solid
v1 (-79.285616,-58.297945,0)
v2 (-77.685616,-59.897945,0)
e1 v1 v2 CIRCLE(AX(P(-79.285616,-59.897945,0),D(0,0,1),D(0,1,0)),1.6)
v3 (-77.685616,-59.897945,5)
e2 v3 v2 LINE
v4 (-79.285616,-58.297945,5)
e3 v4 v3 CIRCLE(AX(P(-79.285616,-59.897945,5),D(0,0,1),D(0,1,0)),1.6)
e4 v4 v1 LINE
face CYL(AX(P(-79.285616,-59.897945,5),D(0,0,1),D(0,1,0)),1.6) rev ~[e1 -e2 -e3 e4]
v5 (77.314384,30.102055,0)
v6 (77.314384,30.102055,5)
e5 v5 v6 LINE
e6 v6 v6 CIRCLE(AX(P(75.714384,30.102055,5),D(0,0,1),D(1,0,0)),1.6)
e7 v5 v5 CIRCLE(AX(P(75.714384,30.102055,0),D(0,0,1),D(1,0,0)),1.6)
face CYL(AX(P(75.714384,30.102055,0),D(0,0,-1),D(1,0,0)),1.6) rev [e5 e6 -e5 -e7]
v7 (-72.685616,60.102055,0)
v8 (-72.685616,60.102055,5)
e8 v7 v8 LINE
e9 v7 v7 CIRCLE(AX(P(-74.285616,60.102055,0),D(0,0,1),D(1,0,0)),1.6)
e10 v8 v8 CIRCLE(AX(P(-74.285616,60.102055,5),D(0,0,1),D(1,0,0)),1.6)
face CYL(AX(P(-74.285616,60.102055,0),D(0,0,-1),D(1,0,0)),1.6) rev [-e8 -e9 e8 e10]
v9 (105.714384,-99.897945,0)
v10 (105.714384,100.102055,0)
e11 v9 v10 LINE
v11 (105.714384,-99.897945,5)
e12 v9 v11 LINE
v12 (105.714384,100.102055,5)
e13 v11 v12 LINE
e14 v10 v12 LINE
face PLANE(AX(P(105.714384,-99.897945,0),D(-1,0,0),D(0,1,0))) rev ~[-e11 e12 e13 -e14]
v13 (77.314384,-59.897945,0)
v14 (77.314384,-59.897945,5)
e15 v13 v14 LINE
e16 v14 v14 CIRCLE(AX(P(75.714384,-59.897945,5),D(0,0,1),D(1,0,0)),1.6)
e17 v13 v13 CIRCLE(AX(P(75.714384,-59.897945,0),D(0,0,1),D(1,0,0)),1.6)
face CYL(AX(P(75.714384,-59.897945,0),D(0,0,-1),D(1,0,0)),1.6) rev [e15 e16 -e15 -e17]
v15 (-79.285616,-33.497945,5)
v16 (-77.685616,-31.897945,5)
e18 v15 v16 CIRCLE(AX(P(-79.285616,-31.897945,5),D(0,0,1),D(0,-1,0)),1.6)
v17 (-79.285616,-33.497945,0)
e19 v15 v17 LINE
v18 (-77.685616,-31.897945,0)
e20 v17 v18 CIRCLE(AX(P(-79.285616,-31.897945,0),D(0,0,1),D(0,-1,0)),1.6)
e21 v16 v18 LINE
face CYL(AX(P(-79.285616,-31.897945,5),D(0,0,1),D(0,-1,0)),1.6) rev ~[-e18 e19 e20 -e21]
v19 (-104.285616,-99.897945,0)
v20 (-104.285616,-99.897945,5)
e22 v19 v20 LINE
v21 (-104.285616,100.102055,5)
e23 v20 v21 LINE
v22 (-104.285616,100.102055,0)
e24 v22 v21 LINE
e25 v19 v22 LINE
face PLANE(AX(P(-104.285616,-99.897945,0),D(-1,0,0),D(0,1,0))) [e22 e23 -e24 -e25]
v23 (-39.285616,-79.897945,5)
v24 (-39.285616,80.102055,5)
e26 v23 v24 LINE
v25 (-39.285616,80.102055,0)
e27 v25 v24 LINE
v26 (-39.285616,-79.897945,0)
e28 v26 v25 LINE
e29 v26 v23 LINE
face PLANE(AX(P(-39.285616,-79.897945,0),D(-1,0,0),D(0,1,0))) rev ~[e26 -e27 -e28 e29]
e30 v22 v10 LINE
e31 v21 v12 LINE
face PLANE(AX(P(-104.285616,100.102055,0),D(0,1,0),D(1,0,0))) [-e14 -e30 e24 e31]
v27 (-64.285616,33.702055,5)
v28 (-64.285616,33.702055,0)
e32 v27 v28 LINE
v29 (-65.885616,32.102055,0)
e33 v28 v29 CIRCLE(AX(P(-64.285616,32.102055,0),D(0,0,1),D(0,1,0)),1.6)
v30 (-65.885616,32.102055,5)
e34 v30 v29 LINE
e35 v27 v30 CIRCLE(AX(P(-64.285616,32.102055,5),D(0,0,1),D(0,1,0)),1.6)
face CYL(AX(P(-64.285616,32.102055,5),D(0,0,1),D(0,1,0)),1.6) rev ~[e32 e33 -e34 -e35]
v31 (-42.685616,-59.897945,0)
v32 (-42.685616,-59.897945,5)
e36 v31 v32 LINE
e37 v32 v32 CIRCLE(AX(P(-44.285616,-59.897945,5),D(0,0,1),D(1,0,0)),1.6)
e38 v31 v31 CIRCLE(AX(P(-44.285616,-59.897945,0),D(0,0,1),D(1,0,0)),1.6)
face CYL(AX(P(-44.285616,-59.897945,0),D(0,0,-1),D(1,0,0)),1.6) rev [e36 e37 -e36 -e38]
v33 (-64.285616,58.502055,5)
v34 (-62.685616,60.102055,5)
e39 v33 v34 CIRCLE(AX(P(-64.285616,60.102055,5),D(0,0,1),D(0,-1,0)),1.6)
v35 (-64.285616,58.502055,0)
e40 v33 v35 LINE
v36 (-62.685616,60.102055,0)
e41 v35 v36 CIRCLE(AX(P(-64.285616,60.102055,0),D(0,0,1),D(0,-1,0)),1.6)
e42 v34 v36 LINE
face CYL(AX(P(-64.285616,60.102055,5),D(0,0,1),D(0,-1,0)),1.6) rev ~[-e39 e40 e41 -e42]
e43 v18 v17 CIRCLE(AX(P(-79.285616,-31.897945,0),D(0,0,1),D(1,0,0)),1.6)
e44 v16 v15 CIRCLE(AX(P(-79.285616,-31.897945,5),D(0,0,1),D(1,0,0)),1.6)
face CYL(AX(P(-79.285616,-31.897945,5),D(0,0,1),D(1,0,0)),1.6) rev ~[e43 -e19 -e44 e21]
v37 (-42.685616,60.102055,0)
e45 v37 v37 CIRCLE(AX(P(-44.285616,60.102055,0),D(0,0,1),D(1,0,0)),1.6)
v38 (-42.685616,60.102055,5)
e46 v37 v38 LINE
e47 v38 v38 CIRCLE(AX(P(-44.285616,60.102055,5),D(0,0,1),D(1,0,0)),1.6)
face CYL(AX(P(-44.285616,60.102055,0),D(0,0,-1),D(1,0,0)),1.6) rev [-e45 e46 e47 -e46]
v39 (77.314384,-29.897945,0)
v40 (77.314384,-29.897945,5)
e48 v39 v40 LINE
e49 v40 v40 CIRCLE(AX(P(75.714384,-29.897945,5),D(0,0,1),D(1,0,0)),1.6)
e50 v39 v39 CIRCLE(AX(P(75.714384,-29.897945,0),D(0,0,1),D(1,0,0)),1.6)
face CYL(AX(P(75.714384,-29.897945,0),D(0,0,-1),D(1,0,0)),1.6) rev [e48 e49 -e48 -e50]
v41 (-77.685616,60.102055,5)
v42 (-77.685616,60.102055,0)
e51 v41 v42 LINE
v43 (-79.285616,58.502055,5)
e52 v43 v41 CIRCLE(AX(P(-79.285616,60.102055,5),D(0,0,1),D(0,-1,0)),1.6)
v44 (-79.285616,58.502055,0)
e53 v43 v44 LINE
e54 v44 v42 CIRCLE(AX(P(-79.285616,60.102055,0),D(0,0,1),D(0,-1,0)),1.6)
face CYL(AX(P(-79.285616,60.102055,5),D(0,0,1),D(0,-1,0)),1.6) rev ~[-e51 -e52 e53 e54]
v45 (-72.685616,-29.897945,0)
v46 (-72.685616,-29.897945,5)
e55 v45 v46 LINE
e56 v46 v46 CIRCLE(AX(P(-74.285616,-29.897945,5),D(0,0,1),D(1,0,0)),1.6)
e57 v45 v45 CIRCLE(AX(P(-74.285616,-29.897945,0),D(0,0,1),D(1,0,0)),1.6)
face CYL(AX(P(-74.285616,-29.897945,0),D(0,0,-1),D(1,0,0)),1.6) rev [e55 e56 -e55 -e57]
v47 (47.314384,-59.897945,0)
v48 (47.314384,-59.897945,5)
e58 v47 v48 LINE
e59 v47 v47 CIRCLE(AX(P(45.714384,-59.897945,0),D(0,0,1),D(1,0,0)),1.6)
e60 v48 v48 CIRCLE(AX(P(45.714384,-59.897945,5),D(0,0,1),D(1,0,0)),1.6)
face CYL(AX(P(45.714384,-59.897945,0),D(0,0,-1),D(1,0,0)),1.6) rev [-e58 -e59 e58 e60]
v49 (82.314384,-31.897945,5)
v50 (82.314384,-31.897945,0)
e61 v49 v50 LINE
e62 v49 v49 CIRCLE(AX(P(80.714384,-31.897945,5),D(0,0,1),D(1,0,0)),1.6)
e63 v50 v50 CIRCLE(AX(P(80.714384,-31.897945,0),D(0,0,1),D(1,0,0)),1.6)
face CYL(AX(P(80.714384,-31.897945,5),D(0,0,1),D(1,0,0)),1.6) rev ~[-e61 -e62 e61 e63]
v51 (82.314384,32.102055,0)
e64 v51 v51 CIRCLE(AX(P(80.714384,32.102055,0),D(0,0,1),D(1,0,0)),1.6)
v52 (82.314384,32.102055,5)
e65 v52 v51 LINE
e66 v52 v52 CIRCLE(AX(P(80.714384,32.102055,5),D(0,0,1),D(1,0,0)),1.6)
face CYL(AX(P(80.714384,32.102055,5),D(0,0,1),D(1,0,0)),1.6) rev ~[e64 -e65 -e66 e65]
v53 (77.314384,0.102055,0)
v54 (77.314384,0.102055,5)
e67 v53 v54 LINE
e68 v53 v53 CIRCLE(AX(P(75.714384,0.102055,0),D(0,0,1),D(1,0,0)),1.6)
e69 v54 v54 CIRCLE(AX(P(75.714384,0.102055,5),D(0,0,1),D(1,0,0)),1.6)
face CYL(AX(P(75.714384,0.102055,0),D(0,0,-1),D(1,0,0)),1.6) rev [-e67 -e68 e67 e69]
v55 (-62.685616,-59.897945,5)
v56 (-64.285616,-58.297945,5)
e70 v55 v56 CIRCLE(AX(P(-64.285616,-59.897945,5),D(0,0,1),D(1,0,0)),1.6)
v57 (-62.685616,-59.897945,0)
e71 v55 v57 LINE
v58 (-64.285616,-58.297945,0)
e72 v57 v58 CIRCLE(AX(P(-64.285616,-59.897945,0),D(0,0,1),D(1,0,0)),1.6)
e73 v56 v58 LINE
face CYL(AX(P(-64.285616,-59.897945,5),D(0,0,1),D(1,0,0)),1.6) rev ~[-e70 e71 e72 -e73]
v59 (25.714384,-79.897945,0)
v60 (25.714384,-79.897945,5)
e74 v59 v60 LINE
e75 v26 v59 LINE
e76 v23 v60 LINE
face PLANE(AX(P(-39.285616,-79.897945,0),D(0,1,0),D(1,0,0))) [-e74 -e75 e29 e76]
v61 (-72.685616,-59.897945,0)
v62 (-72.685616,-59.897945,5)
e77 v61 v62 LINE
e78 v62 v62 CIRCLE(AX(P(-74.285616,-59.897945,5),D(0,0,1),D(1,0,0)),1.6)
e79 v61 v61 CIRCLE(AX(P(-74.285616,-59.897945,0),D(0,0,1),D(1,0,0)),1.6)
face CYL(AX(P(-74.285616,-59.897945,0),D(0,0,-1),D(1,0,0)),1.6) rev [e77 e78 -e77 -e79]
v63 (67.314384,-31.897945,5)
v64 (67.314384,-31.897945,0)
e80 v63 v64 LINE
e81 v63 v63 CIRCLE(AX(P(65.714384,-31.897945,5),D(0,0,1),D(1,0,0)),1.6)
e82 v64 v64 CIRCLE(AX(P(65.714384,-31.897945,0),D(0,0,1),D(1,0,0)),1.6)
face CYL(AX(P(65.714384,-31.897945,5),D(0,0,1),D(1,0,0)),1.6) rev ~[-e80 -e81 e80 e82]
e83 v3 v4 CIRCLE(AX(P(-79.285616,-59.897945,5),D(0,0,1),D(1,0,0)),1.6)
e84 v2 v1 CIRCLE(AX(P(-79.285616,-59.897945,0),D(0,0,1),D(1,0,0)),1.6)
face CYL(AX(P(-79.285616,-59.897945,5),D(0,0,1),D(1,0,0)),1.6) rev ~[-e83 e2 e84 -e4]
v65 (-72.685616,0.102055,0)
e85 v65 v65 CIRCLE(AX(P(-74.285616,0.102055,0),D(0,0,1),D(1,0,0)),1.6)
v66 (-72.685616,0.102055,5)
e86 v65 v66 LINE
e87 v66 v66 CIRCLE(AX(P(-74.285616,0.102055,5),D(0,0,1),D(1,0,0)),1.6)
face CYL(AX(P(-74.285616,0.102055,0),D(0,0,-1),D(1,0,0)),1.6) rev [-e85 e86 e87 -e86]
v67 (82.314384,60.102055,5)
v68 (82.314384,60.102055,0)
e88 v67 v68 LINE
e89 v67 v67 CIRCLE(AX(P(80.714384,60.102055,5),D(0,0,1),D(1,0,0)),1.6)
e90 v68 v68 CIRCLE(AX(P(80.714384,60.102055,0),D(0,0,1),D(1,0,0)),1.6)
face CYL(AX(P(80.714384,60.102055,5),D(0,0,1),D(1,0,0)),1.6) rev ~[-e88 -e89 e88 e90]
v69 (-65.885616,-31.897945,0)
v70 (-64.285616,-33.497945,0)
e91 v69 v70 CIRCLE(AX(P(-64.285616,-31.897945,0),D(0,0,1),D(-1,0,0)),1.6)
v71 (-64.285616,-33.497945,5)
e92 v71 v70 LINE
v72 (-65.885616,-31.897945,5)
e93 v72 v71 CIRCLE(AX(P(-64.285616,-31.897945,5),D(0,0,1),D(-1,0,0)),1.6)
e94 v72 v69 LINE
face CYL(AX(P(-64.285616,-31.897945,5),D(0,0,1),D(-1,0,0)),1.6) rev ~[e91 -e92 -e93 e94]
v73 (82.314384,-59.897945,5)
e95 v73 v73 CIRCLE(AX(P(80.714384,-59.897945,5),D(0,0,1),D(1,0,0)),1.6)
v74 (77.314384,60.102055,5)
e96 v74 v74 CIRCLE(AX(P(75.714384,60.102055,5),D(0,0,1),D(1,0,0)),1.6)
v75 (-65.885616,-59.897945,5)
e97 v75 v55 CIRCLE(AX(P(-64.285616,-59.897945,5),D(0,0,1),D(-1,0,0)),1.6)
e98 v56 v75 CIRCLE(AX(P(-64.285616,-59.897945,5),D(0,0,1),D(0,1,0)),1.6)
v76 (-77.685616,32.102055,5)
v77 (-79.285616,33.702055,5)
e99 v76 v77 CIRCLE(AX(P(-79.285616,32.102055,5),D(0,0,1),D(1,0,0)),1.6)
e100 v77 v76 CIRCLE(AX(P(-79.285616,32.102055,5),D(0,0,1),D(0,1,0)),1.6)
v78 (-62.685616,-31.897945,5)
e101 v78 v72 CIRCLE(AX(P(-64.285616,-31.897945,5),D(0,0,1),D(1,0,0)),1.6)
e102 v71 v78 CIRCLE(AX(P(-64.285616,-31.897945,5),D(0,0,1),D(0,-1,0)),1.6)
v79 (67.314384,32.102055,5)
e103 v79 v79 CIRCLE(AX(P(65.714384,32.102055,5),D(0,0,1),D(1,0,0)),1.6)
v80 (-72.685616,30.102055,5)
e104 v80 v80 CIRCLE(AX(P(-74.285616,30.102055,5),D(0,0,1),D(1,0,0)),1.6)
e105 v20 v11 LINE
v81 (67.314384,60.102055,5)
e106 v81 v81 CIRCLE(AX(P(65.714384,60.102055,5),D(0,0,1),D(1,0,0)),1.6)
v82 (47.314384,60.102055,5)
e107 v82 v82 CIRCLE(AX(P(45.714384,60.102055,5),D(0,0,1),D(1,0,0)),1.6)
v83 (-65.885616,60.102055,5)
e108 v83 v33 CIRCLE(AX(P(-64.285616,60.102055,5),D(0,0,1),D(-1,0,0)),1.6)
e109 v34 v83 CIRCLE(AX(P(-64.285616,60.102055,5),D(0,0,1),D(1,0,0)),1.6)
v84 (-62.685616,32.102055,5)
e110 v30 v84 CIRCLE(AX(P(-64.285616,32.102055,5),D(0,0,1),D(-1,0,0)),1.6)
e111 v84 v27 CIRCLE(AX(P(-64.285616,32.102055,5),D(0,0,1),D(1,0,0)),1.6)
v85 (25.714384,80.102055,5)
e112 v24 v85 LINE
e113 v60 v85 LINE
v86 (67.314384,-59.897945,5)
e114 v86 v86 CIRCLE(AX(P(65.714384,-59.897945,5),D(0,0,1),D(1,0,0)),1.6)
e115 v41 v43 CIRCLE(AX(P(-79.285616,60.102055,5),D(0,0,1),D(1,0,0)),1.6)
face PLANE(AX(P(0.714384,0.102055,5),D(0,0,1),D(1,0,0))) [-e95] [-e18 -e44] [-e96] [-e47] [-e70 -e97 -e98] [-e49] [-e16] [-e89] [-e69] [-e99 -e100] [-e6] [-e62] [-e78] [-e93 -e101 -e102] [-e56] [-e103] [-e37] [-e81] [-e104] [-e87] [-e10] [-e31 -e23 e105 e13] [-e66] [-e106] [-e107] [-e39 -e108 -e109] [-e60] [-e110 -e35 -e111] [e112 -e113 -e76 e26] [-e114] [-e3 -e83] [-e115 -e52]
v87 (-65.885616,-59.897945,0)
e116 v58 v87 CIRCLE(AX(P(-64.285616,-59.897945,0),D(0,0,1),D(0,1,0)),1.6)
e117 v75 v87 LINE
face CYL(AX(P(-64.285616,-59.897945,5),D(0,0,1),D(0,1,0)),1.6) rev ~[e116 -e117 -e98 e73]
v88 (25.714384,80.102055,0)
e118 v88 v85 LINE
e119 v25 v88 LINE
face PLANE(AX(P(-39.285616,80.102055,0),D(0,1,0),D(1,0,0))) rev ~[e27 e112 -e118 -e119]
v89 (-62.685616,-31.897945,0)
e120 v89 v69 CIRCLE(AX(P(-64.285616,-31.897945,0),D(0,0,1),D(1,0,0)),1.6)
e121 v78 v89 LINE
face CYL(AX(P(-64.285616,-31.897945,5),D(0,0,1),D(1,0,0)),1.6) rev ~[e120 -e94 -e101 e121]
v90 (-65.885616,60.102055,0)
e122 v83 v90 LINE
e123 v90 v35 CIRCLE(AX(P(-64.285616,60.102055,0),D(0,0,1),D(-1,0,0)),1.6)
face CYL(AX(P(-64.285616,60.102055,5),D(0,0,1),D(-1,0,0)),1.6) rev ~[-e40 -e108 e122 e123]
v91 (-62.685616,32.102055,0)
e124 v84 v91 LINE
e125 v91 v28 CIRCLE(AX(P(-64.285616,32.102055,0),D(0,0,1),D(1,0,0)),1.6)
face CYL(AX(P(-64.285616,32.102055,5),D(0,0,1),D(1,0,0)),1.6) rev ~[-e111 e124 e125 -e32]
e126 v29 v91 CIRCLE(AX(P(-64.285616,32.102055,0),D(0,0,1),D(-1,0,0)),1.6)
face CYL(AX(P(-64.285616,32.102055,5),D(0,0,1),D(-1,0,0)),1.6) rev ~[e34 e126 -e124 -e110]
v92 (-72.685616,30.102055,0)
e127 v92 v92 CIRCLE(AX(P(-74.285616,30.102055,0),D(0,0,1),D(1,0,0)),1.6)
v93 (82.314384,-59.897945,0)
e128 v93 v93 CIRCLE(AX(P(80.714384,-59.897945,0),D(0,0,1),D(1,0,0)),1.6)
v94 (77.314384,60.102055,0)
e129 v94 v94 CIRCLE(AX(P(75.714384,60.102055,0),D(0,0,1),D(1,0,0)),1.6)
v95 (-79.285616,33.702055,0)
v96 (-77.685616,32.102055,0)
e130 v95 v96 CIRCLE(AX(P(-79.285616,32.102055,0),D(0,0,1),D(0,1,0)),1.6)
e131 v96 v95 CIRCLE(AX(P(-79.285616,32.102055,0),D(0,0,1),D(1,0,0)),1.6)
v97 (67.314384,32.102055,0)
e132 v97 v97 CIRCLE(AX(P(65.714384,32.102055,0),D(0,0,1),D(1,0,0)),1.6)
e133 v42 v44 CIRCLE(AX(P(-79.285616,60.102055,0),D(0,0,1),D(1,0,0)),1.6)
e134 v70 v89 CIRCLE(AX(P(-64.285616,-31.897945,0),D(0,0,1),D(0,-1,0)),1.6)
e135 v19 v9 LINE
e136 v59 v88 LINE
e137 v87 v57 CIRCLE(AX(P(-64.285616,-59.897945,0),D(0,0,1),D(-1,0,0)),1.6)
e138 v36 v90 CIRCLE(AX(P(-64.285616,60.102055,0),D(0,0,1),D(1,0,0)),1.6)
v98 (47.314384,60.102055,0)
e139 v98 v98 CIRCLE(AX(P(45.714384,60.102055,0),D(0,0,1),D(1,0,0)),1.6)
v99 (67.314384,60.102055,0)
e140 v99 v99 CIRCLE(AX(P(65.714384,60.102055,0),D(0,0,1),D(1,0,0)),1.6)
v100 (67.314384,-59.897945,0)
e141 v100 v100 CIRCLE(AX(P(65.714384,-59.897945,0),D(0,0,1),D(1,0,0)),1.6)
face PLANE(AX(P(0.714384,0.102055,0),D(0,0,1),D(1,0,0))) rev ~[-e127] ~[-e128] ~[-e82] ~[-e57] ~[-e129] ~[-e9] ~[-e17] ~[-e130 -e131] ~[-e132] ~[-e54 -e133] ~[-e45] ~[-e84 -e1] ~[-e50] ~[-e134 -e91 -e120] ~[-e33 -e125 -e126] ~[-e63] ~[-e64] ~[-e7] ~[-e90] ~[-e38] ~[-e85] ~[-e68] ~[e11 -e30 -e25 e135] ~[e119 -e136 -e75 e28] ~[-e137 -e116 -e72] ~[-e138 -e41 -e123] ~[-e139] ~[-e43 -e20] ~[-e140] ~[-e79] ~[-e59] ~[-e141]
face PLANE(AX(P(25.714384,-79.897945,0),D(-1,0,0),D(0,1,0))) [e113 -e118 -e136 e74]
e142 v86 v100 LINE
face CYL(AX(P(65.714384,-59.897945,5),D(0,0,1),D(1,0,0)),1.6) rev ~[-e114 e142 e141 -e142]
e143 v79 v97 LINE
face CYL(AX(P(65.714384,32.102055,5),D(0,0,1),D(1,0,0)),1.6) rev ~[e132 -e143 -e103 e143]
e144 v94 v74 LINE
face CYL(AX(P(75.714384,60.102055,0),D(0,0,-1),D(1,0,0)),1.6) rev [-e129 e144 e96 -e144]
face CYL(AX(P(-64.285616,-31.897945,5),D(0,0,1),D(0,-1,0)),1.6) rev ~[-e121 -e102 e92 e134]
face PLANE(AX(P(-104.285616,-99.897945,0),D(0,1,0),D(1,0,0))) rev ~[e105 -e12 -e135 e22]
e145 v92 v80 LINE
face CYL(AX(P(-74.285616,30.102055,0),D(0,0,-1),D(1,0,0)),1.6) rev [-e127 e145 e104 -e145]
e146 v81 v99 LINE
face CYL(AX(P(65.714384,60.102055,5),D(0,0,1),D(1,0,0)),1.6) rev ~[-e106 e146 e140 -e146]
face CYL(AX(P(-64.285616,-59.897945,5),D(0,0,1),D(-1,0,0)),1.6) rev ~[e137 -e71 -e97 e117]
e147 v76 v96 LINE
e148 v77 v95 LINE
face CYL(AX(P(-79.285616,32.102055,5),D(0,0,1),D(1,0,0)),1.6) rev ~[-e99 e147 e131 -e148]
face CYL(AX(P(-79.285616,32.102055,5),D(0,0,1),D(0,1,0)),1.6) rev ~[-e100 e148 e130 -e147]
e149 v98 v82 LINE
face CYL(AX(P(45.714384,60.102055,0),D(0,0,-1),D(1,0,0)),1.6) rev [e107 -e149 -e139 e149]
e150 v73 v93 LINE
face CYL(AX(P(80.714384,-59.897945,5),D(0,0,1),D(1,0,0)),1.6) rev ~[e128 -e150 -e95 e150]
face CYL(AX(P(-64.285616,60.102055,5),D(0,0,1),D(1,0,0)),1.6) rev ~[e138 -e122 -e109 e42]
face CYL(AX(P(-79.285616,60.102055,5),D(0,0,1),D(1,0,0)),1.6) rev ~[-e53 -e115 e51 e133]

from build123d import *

# Parameters (mm, degrees)
SKETCH_2_W          = 210
SKETCH_2_H          = 200
SKETCH_2_R          = 1.6
SKETCH_2_W_2        = 65
SKETCH_2_H_2        = 160
EXTRUDE_1_DEPTH     = 5
SKETCH_5_R          = 1.6
CUT_EXTRUDE_1_DEPTH = 146.674130949


with BuildPart() as part:
    # 草图2 → 凸台-拉伸1 (new body)
    with BuildSketch(Plane.XY):
        with Locations((0.714384236, 0.102054891)):
            Rectangle(SKETCH_2_W, SKETCH_2_H)
        with Locations((-74.285615764, -59.897945109)):
            Circle(SKETCH_2_R, mode=Mode.SUBTRACT)
        with Locations((75.714384236, 60.102054891)):
            Circle(SKETCH_2_R, mode=Mode.SUBTRACT)
        with Locations((-74.285615764, 30.102054891)):
            Circle(SKETCH_2_R, mode=Mode.SUBTRACT)
        with Locations((-74.285615764, 0.102054891)):
            Circle(SKETCH_2_R, mode=Mode.SUBTRACT)
        with Locations((-74.285615764, -29.897945109)):
            Circle(SKETCH_2_R, mode=Mode.SUBTRACT)
        with Locations((-44.285615764, -59.897945109)):
            Circle(SKETCH_2_R, mode=Mode.SUBTRACT)
        with Locations((-44.285615764, 60.102054891)):
            Circle(SKETCH_2_R, mode=Mode.SUBTRACT)
        with Locations((45.714384236, 60.102054891)):
            Circle(SKETCH_2_R, mode=Mode.SUBTRACT)
        with Locations((75.714384236, -29.897945109)):
            Circle(SKETCH_2_R, mode=Mode.SUBTRACT)
        with Locations((75.714384236, 0.102054891)):
            Circle(SKETCH_2_R, mode=Mode.SUBTRACT)
        with Locations((45.714384236, -59.897945109)):
            Circle(SKETCH_2_R, mode=Mode.SUBTRACT)
        with Locations((75.714384236, 30.102054891)):
            Circle(SKETCH_2_R, mode=Mode.SUBTRACT)
        with Locations((75.714384236, -59.897945109)):
            Circle(SKETCH_2_R, mode=Mode.SUBTRACT)
        with Locations((-74.285615764, 60.102054891)):
            Circle(SKETCH_2_R, mode=Mode.SUBTRACT)
        with Locations((-6.785615764, 0.102054891)):
            Rectangle(SKETCH_2_W_2, SKETCH_2_H_2, mode=Mode.SUBTRACT)
    extrude(amount=EXTRUDE_1_DEPTH)

    # 草图5 → 切除-拉伸1 (cut, through all)
    with BuildSketch(Plane.XY.offset(5)):
        with BuildLine():
            Line((-79.285615764, 58.502054891), (-79.285615764, 60.102054891))
            Line((-79.285615764, 60.102054891), (-77.685615764, 60.102054891))
            ThreePointArc((-77.685615764, 60.102054891), (-80.416986614, 61.233425741), (-79.285615764, 58.502054891))
        make_face()
        with BuildLine():
            Line((-77.685615764, 60.102054891), (-79.285615764, 60.102054891))
            Line((-79.285615764, 60.102054891), (-79.285615764, 58.502054891))
            ThreePointArc((-79.285615764, 58.502054891), (-78.154244914, 58.970684041), (-77.685615764, 60.102054891))
        make_face()
        with BuildLine():
            ThreePointArc((-62.685615764, 60.102054891), (-64.285615764, 61.702054891), (-65.885615764, 60.102054891))
            Line((-65.885615764, 60.102054891), (-64.285615764, 60.102054891))
            Line((-64.285615764, 60.102054891), (-64.285615764, 58.502054891))
            ThreePointArc((-64.285615764, 58.502054891), (-63.154244914, 58.970684041), (-62.685615764, 60.102054891))
        make_face()
        with BuildLine():
            Line((-64.285615764, 60.102054891), (-65.885615764, 60.102054891))
            ThreePointArc((-65.885615764, 60.102054891), (-65.416986614, 58.970684041), (-64.285615764, 58.502054891))
            Line((-64.285615764, 58.502054891), (-64.285615764, 60.102054891))
        make_face()
        with BuildLine():
            ThreePointArc((-77.685615764, 32.102054891), (-78.154244914, 33.233425741), (-79.285615764, 33.702054891))
            Line((-79.285615764, 33.702054891), (-79.285615764, 32.102054891))
            Line((-79.285615764, 32.102054891), (-77.685615764, 32.102054891))
        make_face()
        with BuildLine():
            Line((-79.285615764, 32.102054891), (-79.285615764, 33.702054891))
            ThreePointArc((-79.285615764, 33.702054891), (-80.416986614, 30.970684041), (-77.685615764, 32.102054891))
            Line((-77.685615764, 32.102054891), (-79.285615764, 32.102054891))
        make_face()
        with BuildLine():
            ThreePointArc((-62.685615764, 32.102054891), (-63.154244914, 33.233425741), (-64.285615764, 33.702054891))
            Line((-64.285615764, 33.702054891), (-64.285615764, 32.102054891))
            Line((-64.285615764, 32.102054891), (-65.885615764, 32.102054891))
            ThreePointArc((-65.885615764, 32.102054891), (-64.285615764, 30.502054891), (-62.685615764, 32.102054891))
        make_face()
        with BuildLine():
            Line((-64.285615764, 32.102054891), (-64.285615764, 33.702054891))
            ThreePointArc((-64.285615764, 33.702054891), (-65.416986614, 33.233425741), (-65.885615764, 32.102054891))
            Line((-65.885615764, 32.102054891), (-64.285615764, 32.102054891))
        make_face()
        with BuildLine():
            Line((-79.285615764, -33.497945109), (-79.285615764, -31.897945109))
            Line((-79.285615764, -31.897945109), (-77.685615764, -31.897945109))
            ThreePointArc((-77.685615764, -31.897945109), (-80.416986614, -30.766574259), (-79.285615764, -33.497945109))
        make_face()
        with BuildLine():
            Line((-77.685615764, -31.897945109), (-79.285615764, -31.897945109))
            Line((-79.285615764, -31.897945109), (-79.285615764, -33.497945109))
            ThreePointArc((-79.285615764, -33.497945109), (-78.154244914, -33.029315959), (-77.685615764, -31.897945109))
        make_face()
        with BuildLine():
            ThreePointArc((-62.685615764, -31.897945109), (-64.285615764, -30.297945109), (-65.885615764, -31.897945109))
            Line((-65.885615764, -31.897945109), (-64.285615764, -31.897945109))
            Line((-64.285615764, -31.897945109), (-64.285615764, -33.497945109))
            ThreePointArc((-64.285615764, -33.497945109), (-63.154244914, -33.029315959), (-62.685615764, -31.897945109))
        make_face()
        with BuildLine():
            Line((-64.285615764, -31.897945109), (-65.885615764, -31.897945109))
            ThreePointArc((-65.885615764, -31.897945109), (-65.416986614, -33.029315959), (-64.285615764, -33.497945109))
            Line((-64.285615764, -33.497945109), (-64.285615764, -31.897945109))
        make_face()
        with BuildLine():
            ThreePointArc((-77.685615764, -59.897945109), (-78.154244914, -58.766574259), (-79.285615764, -58.297945109))
            Line((-79.285615764, -58.297945109), (-79.285615764, -59.897945109))
            Line((-79.285615764, -59.897945109), (-77.685615764, -59.897945109))
        make_face()
        with BuildLine():
            Line((-79.285615764, -59.897945109), (-79.285615764, -58.297945109))
            ThreePointArc((-79.285615764, -58.297945109), (-80.416986614, -61.029315959), (-77.685615764, -59.897945109))
            Line((-77.685615764, -59.897945109), (-79.285615764, -59.897945109))
        make_face()
        with BuildLine():
            ThreePointArc((-62.685615764, -59.897945109), (-63.154244914, -58.766574259), (-64.285615764, -58.297945109))
            Line((-64.285615764, -58.297945109), (-64.285615764, -59.897945109))
            Line((-64.285615764, -59.897945109), (-65.885615764, -59.897945109))
            ThreePointArc((-65.885615764, -59.897945109), (-64.285615764, -61.497945109), (-62.685615764, -59.897945109))
        make_face()
        with BuildLine():
            Line((-64.285615764, -59.897945109), (-64.285615764, -58.297945109))
            ThreePointArc((-64.285615764, -58.297945109), (-65.416986614, -58.766574259), (-65.885615764, -59.897945109))
            Line((-65.885615764, -59.897945109), (-64.285615764, -59.897945109))
        make_face()
        with Locations((65.714384236, -59.897945109)):
            Circle(SKETCH_5_R)
        with Locations((80.714384236, -59.897945109)):
            Circle(SKETCH_5_R)
        with Locations((65.714384236, -31.897945109)):
            Circle(SKETCH_5_R)
        with Locations((80.714384236, -31.897945109)):
            Circle(SKETCH_5_R)
        with Locations((80.714384236, 32.102054891)):
            Circle(SKETCH_5_R)
        with Locations((65.714384236, 32.102054891)):
            Circle(SKETCH_5_R)
        with Locations((65.714384236, 60.102054891)):
            Circle(SKETCH_5_R)
        with Locations((80.714384236, 60.102054891)):
            Circle(SKETCH_5_R)
    extrude(amount=-CUT_EXTRUDE_1_DEPTH, mode=Mode.SUBTRACT)


solid = part.part
